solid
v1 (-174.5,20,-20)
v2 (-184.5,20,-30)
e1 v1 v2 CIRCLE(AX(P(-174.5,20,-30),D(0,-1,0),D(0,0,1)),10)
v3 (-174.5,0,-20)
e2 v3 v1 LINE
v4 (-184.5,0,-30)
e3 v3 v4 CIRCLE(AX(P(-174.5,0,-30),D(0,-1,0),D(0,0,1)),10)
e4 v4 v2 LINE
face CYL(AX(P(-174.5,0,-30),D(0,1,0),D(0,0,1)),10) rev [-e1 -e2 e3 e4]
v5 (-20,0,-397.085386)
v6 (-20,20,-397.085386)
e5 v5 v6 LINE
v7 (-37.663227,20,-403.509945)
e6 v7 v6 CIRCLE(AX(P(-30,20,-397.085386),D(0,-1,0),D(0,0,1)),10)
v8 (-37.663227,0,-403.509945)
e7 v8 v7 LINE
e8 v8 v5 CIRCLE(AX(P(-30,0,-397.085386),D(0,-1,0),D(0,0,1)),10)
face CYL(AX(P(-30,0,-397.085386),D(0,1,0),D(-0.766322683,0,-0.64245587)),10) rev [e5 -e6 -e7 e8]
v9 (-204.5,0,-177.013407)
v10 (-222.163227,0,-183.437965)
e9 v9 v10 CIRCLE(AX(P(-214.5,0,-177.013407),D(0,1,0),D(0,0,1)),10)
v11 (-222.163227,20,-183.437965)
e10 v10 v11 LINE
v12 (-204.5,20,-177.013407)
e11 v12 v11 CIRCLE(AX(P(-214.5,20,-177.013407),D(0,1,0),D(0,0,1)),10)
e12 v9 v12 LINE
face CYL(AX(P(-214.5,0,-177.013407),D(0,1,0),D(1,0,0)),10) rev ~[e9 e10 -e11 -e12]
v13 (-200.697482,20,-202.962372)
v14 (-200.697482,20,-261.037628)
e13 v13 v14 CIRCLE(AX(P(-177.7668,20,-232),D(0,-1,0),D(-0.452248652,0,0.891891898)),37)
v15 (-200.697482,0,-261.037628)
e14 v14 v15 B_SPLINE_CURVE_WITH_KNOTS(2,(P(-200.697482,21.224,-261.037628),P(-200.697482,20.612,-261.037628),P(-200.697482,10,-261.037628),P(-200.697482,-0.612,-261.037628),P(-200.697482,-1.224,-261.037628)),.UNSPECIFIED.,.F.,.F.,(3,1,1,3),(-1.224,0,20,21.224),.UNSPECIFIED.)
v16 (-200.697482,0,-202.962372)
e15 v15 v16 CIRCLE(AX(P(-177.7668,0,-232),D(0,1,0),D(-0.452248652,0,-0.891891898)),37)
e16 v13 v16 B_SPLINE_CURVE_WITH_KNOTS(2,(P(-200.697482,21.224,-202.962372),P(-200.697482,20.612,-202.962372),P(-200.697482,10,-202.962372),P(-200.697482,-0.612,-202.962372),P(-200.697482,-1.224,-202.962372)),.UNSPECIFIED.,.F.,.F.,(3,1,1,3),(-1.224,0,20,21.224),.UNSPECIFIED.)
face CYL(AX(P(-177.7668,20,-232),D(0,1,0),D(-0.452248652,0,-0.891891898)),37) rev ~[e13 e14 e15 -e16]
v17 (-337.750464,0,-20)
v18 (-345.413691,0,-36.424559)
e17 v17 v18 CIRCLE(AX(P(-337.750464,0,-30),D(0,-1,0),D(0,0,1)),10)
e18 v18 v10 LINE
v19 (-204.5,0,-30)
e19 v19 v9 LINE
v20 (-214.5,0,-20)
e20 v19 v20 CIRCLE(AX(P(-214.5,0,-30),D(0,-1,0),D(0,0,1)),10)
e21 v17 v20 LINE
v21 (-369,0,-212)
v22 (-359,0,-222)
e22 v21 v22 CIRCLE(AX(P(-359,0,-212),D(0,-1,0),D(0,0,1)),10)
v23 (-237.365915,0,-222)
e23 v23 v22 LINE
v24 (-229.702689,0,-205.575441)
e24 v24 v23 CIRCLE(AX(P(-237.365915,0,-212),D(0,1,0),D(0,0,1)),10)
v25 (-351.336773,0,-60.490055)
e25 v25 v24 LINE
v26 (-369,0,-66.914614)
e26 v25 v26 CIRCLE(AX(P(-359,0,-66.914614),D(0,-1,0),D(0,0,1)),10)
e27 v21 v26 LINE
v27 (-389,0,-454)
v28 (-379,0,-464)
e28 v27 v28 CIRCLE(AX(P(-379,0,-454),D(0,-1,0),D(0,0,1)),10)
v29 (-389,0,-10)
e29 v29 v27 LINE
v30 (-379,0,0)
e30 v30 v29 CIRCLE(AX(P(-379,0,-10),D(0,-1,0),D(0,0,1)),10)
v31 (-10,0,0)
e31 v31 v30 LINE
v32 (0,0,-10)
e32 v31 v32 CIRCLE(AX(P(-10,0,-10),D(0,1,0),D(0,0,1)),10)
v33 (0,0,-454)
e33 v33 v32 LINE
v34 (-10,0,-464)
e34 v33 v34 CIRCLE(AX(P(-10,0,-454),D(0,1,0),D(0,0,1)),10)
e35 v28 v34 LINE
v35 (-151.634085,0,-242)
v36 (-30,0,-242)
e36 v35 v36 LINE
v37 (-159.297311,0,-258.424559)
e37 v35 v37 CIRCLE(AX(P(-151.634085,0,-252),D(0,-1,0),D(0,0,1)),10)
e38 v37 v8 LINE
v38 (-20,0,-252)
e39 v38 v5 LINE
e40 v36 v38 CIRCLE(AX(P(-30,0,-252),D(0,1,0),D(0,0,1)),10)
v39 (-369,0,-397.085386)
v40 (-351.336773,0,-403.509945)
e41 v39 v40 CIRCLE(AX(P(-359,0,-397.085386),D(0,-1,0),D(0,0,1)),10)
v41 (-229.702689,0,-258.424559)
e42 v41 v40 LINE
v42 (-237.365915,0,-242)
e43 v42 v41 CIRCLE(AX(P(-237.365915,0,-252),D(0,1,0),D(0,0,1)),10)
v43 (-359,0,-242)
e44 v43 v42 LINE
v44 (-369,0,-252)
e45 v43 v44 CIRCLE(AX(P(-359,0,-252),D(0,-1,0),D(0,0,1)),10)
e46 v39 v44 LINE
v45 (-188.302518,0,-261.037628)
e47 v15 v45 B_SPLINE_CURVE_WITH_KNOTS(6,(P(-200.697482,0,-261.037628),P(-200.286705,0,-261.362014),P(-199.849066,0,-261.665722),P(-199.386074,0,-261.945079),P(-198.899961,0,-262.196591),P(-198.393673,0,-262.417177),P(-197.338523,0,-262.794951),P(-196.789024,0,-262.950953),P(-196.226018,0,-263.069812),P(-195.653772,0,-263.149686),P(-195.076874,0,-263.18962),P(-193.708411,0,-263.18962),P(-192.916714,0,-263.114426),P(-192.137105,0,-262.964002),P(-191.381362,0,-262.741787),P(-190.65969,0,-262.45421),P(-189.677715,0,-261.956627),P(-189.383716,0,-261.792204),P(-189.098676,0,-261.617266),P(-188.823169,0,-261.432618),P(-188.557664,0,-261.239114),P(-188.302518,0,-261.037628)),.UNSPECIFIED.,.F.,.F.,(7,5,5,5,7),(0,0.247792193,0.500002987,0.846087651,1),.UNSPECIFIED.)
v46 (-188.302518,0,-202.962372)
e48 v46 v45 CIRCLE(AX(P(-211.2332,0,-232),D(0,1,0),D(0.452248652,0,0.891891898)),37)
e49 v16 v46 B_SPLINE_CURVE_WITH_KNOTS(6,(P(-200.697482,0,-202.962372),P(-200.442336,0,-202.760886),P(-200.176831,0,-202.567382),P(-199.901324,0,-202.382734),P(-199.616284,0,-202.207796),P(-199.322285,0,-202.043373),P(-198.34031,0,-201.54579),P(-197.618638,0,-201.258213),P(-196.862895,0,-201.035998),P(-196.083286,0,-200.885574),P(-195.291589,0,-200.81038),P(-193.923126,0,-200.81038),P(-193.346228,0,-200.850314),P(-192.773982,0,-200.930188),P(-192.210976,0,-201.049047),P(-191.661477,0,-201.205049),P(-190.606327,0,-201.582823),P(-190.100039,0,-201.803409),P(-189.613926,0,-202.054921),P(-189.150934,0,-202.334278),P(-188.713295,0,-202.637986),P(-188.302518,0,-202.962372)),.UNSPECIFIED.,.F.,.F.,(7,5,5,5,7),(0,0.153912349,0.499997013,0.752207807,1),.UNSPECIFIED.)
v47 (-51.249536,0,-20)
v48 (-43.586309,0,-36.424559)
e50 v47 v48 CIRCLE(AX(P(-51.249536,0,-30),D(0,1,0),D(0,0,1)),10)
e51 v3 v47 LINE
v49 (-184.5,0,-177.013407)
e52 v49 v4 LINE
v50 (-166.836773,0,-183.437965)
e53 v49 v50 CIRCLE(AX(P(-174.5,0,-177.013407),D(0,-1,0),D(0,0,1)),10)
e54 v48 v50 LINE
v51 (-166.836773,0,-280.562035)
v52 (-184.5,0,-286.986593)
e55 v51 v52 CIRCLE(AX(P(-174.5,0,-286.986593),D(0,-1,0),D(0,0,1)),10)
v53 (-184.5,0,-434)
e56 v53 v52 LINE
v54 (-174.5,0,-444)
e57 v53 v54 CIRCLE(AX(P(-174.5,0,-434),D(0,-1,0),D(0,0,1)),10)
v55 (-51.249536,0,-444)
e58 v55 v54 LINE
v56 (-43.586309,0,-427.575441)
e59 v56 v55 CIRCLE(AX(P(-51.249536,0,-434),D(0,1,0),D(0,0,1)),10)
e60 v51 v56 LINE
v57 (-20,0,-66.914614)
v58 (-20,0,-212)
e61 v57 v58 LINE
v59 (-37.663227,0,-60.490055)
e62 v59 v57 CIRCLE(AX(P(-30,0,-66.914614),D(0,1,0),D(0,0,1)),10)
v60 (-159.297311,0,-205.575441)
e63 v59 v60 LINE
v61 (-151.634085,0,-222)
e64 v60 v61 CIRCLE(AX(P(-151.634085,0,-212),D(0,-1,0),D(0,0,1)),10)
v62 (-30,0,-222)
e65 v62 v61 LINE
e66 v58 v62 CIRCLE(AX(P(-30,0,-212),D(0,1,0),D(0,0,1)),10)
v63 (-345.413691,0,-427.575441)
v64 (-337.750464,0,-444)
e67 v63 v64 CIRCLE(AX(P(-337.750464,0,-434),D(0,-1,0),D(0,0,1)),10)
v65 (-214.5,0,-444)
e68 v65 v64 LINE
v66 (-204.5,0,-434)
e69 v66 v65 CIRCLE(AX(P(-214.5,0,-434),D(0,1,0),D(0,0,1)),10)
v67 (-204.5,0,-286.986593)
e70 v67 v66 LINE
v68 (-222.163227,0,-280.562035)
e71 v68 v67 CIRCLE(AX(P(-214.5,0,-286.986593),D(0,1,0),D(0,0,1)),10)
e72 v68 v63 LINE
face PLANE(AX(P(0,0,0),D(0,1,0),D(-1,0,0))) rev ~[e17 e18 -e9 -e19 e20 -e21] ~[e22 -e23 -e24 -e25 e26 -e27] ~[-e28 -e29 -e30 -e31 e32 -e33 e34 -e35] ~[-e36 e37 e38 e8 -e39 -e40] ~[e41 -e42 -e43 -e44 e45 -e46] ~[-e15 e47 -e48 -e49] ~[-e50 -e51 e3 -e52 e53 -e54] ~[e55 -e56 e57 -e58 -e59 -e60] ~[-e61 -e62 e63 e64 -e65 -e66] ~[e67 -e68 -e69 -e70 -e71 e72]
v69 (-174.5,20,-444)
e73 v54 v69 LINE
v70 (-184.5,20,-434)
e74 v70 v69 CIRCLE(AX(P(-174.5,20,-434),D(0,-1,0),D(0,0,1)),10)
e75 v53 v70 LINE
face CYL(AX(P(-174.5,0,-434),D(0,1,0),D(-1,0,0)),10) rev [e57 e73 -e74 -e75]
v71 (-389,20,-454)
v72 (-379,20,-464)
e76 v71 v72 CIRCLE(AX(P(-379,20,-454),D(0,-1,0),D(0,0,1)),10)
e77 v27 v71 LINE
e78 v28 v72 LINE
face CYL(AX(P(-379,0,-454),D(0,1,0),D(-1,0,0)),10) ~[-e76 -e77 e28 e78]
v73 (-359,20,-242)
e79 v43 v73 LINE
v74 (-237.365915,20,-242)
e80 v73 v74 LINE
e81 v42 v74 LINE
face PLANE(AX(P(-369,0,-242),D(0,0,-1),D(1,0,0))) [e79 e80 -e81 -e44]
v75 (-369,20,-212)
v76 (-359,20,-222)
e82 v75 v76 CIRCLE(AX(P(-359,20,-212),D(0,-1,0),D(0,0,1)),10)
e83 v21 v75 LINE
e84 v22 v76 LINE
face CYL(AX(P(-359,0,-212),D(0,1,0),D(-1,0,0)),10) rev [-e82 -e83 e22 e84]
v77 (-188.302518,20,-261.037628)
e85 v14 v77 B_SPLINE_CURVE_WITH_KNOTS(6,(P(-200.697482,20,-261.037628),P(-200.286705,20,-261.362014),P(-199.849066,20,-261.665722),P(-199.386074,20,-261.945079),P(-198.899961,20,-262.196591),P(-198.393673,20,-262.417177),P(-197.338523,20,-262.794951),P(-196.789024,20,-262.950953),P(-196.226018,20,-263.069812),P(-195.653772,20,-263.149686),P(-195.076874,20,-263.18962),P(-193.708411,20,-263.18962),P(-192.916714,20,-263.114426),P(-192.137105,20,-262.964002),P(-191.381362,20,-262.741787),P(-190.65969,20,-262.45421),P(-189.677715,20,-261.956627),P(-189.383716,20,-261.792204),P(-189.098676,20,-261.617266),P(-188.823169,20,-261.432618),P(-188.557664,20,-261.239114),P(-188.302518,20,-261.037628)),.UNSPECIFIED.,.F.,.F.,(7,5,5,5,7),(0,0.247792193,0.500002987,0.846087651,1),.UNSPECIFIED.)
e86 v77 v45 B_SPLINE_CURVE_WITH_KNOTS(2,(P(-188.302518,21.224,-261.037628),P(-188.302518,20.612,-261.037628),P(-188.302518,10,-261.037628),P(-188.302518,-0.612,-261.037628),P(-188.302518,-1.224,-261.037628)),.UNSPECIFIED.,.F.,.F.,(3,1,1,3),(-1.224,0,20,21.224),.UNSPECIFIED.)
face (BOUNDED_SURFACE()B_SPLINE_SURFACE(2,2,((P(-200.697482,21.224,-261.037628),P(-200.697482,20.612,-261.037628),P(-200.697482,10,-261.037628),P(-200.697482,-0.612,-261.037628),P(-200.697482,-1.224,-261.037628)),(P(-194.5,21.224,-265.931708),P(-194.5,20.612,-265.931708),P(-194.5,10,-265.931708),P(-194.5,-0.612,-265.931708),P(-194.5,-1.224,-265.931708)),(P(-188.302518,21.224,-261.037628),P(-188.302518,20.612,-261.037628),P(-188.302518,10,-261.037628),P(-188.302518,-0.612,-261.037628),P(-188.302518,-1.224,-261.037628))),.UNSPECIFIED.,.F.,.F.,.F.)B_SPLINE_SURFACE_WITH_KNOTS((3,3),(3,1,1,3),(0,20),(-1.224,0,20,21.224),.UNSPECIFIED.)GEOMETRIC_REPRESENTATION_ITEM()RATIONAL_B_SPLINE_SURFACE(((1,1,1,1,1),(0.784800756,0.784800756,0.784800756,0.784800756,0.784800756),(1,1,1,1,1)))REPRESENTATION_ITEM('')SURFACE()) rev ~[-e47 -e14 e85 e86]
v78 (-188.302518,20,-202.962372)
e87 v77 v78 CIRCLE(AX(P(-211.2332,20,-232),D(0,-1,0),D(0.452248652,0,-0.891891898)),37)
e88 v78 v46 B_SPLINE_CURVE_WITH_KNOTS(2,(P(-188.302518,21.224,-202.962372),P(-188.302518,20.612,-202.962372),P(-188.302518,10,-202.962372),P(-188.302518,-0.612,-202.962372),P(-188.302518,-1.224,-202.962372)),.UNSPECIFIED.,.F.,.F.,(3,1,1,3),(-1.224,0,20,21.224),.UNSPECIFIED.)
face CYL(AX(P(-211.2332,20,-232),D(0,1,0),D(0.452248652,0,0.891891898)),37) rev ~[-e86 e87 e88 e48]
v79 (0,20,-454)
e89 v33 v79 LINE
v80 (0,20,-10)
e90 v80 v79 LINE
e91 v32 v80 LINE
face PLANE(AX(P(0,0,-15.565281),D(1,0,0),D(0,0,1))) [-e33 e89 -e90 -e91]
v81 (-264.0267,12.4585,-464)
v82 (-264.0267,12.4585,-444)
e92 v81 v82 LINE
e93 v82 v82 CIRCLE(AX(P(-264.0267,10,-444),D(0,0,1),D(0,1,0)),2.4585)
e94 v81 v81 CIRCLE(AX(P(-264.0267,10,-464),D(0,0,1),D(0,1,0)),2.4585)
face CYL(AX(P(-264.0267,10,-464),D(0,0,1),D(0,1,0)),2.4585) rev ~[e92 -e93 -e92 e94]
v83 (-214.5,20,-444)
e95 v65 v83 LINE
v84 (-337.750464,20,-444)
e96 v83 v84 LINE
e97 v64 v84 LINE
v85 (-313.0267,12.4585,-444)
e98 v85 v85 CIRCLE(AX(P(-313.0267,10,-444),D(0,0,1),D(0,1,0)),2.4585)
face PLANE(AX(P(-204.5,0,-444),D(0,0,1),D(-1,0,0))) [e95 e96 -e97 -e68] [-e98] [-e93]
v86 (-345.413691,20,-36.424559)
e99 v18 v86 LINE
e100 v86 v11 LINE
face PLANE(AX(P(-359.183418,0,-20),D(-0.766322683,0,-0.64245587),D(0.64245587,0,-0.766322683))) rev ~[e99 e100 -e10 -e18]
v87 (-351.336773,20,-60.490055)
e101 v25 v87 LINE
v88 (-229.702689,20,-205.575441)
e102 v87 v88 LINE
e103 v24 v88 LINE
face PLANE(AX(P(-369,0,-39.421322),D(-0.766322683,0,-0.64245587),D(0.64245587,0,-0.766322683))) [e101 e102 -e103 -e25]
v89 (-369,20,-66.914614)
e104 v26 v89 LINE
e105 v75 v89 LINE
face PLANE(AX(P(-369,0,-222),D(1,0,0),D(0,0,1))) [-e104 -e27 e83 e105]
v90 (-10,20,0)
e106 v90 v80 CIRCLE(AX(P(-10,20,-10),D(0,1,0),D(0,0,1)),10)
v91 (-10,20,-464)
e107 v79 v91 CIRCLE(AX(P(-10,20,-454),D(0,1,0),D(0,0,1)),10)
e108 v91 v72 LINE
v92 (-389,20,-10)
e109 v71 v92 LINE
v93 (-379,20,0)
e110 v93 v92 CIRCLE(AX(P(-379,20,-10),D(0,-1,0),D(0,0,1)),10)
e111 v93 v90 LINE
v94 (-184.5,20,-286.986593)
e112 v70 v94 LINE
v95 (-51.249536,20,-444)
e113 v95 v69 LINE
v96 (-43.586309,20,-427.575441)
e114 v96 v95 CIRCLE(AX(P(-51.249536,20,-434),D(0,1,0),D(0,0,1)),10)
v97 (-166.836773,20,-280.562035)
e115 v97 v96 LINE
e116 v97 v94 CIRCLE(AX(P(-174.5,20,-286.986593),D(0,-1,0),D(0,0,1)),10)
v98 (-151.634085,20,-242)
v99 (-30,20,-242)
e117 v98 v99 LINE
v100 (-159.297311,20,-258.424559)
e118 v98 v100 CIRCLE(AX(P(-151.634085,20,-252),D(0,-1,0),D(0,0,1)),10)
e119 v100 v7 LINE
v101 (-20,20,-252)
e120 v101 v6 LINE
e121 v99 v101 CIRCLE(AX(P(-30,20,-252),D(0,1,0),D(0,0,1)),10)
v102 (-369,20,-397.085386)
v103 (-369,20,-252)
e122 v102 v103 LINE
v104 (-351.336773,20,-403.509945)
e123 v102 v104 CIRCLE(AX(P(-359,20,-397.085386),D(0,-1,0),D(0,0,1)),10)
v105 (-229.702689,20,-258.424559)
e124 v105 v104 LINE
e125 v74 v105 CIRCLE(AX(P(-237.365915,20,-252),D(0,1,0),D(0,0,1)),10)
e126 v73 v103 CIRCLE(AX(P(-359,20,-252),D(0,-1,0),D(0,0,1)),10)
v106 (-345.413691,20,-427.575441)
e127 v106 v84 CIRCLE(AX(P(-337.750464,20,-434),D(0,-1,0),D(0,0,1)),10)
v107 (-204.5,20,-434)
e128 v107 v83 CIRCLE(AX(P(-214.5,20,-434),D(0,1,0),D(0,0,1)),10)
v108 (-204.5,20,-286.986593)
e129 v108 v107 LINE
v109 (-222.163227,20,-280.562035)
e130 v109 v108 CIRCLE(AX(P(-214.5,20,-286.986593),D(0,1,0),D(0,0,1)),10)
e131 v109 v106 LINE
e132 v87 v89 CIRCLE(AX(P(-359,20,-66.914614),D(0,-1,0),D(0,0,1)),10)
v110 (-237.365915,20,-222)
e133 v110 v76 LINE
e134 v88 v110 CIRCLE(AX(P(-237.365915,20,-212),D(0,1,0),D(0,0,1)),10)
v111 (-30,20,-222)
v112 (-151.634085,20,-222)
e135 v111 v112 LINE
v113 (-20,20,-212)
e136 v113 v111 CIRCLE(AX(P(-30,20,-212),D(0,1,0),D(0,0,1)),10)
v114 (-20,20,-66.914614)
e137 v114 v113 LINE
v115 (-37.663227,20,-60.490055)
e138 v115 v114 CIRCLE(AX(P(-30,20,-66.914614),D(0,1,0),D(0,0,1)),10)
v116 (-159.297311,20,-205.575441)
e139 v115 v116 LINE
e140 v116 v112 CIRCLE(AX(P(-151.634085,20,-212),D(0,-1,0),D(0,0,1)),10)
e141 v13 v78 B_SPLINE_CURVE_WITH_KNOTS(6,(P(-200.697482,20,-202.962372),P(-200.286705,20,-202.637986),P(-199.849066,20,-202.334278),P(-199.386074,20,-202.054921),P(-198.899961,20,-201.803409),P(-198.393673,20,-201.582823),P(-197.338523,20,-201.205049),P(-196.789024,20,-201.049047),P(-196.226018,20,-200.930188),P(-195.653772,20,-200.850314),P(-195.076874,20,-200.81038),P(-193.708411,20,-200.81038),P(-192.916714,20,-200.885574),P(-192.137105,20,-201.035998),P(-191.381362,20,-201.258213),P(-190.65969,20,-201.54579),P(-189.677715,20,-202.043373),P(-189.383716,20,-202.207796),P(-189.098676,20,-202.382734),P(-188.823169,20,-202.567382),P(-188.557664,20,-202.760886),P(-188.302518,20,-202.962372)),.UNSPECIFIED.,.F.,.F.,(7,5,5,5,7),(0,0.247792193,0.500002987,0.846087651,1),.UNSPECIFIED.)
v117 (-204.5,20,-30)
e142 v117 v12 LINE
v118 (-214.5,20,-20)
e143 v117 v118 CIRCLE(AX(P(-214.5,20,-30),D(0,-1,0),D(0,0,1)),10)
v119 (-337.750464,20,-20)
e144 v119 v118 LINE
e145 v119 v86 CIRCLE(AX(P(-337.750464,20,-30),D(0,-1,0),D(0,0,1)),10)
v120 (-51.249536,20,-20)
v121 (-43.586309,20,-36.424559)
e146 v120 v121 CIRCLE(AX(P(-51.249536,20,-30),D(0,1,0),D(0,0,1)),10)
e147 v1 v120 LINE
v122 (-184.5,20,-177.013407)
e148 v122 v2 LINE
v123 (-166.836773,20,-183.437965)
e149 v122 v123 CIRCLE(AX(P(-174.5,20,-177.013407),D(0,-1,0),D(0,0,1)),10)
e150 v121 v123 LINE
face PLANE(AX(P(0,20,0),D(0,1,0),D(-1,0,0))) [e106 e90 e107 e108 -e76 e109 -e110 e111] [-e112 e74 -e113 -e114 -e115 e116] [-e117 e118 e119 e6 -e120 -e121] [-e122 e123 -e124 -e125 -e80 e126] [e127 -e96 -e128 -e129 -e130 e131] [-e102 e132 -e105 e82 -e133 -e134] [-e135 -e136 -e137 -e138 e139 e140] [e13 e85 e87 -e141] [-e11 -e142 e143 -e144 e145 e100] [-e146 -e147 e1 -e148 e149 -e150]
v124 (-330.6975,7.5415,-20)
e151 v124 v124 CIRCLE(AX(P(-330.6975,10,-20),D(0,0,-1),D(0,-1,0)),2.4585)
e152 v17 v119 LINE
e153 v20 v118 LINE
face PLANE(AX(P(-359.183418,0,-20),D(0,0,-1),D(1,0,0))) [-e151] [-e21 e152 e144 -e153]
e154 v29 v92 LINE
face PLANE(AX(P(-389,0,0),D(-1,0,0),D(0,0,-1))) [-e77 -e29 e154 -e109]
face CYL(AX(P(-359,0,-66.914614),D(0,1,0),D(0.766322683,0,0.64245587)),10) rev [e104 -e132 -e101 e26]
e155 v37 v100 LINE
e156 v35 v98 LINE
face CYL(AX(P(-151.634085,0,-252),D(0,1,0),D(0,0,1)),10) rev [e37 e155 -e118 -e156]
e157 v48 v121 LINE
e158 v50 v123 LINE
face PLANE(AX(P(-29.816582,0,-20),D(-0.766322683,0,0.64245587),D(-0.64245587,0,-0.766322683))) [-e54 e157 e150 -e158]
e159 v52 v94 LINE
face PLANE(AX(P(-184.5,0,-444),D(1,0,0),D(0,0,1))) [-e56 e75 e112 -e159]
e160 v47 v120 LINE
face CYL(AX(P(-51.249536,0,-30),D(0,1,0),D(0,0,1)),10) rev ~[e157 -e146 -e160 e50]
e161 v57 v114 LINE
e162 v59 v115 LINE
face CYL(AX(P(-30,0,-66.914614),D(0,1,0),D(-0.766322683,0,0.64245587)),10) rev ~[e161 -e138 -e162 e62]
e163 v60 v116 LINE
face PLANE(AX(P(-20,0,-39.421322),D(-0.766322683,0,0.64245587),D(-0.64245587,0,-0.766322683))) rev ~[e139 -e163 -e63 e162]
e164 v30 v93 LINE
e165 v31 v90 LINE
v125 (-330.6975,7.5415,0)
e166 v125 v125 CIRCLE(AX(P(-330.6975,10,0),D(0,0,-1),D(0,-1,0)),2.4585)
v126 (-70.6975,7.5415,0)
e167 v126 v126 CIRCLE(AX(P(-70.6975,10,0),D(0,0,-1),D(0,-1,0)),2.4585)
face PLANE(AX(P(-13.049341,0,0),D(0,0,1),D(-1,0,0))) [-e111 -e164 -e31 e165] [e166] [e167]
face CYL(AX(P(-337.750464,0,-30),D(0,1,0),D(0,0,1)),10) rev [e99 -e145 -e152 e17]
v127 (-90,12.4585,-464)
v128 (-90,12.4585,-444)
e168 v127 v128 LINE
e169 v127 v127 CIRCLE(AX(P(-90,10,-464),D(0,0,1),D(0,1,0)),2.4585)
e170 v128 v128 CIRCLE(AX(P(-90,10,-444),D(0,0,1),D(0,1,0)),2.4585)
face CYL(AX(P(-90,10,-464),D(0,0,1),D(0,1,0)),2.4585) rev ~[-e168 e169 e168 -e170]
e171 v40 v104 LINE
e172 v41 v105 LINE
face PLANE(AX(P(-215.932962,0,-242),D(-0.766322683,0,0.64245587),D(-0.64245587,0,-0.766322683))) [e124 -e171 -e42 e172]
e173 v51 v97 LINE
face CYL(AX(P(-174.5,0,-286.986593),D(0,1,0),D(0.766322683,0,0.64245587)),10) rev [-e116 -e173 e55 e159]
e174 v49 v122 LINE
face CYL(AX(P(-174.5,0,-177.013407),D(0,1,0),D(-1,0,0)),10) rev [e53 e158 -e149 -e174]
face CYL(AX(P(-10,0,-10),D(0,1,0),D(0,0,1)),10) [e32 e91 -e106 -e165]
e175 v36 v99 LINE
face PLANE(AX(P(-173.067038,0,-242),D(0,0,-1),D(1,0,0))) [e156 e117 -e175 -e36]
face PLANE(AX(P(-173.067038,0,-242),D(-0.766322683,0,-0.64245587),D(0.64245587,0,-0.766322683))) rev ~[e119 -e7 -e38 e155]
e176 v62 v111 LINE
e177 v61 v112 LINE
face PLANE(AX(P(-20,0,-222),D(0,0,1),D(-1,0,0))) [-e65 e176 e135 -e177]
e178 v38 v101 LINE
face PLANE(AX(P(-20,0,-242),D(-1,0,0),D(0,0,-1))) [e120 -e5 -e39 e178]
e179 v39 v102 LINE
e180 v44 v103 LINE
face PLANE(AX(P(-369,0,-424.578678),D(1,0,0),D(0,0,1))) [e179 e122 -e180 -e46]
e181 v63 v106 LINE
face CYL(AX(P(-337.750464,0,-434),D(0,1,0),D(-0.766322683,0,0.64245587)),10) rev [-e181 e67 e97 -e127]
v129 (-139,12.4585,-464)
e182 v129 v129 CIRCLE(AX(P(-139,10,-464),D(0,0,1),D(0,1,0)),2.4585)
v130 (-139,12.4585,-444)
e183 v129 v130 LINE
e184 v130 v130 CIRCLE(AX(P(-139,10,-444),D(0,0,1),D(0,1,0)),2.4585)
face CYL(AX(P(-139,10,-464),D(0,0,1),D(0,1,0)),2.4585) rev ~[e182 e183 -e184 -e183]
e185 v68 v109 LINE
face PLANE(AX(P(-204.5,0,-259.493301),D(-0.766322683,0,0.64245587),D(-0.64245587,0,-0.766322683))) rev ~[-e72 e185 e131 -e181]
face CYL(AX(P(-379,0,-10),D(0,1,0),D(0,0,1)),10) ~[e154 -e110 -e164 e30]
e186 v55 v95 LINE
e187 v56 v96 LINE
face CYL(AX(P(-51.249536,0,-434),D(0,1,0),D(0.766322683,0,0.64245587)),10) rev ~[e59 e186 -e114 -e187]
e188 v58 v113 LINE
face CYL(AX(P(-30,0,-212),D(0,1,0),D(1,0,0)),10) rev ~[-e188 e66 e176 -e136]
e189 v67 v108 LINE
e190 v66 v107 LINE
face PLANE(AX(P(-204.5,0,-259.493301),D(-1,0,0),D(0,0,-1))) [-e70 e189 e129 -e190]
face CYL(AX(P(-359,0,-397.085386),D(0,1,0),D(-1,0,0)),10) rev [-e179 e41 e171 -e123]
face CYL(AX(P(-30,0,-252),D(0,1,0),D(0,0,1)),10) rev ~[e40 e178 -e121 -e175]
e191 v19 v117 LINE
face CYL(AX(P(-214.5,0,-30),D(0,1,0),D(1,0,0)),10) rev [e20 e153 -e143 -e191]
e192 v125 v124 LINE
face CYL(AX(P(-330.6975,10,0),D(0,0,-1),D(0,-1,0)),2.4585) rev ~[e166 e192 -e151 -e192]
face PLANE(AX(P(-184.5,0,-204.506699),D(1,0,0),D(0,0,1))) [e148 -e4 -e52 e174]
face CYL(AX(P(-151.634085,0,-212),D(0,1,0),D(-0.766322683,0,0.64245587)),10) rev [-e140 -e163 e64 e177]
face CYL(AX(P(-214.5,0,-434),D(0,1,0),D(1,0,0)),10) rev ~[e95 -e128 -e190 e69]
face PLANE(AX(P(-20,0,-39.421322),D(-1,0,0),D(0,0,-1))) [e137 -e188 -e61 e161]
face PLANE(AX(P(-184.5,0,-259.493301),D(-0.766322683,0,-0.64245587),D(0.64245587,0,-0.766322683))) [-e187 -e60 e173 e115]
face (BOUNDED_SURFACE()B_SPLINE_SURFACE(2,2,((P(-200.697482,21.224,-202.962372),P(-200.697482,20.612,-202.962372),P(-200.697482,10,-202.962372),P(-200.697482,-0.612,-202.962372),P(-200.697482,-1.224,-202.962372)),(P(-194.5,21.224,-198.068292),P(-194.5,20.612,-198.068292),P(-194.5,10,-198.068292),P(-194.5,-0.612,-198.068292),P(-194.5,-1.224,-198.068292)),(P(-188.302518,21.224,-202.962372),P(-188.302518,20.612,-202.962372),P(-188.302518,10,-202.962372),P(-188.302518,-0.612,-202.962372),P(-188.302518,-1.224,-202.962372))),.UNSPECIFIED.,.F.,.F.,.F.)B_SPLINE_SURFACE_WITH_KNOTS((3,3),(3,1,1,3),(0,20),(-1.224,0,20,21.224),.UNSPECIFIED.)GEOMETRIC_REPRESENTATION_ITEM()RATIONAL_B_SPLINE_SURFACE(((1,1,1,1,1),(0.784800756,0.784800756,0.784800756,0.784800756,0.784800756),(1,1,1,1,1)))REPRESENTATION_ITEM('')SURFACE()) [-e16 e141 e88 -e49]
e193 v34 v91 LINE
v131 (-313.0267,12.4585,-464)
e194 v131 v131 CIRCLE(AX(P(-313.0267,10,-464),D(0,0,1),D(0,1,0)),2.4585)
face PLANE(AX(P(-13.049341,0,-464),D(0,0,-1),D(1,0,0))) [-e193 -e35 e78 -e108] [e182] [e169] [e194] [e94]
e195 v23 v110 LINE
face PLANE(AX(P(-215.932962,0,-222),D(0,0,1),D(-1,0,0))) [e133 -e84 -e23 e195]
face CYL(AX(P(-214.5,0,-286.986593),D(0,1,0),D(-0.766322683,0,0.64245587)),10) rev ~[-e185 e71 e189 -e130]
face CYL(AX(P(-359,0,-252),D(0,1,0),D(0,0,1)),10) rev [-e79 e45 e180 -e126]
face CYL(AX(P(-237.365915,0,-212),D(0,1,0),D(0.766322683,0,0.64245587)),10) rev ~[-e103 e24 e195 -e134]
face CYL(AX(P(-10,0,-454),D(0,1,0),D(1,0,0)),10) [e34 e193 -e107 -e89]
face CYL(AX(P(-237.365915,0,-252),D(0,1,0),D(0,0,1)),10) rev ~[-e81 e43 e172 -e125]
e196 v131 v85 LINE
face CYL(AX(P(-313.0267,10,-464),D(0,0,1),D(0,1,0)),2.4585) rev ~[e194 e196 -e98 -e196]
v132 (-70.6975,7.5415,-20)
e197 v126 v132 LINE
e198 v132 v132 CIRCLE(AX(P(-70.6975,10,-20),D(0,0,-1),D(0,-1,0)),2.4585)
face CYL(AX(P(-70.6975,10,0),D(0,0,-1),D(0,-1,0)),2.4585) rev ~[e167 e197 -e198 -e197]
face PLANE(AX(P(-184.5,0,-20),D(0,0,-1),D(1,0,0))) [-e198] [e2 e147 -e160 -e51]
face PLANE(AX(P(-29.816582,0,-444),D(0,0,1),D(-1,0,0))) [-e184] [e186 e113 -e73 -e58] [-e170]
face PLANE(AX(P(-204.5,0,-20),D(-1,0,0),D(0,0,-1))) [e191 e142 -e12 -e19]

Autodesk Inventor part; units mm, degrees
ref_plane "YZ Plane" through (0, 0, 0) normal (1, 0, 0) x (0, 1, 0)
ref_plane "XZ Plane" through (0, 0, 0) normal (0, 1, 0) x (-1, 0, 0)
ref_plane "XY Plane" through (0, 0, 0) normal (0, 0, 1) x (1, 0, 0)
sketch "Sketch1" plane through (0, 0, 0) normal (0, 1, 0) x (-1, 0, 0)
  line L0 (0, 0) -> (389, 0)
  line L1 (389, 0) -> (389, -464)
  line L2 (389, -464) -> (0, -464)
  line L3 (0, -464) -> (0, 0)
  line L4 (369, -444) -> (369, -20)
  line L5 (369, -20) -> (20, -20)
  line L6 (20, -20) -> (20, -444)
  line L7 (20, -444) -> (369, -444)
  line L8 (184.5, 0) -> (204.5, 0)
  line L9 (204.5, 0) -> (204.5, -464)
  line L10 (204.5, -464) -> (184.5, -464)
  line L11 (184.5, -464) -> (184.5, 0)
  line L12 (0, -222) -> (389, -222)
  line L13 (389, -222) -> (389, -242)
  line L14 (389, -242) -> (0, -242)
  line L15 (0, -242) -> (0, -222)
  line L16 (396.6632, -6.4246) -> (7.6632, -470.4246)
  line L17 (381.3368, 6.4246) -> (-7.6632, -457.5754)
  line L18 (7.6632, 6.4246) -> (396.6632, -457.5754)
  line L19 (-7.6632, -6.4246) -> (381.3368, -470.4246)
  point P0 (369, -222)
  point P1 (215.933, -222)
  point P2 (369, -39.4213)
  point P3 (369, -242)
  point P4 (369, -424.5787)
  point P5 (215.933, -242)
  point P6 (184.5, -20)
  point P7 (184.5, -204.5067)
  point P8 (29.8166, -20)
  point P9 (20, -424.5787)
  point P10 (20, -242)
  point P11 (173.067, -242)
  point P12 (204.5, -259.4933)
  point P13 (359.1834, -444)
  point P14 (204.5, -444)
  point P15 (20, -39.4213)
  point P16 (173.067, -222)
  point P17 (20, -222)
  point P18 (359.1834, -20)
  point P19 (204.5, -204.5067)
  point P20 (204.5, -20)
  point P21 (184.5, -444)
  point P22 (29.8166, -444)
  point P23 (184.5, -259.4933)
  dimension "d0" = 389
  dimension "d1" = 464
  dimension "d2" = 20
  dimension "d3" = 20
  dimension "d4" = 20
extrude "Extrusion1" add sketch "Sketch1" along normal blind 20 contours L11 L5 L18 L0 | L0 L9 L5 L11 | L0 L17 L5 L9 | L18 L5 L6 L19 L3 L0 | L5 L9 L17 L18 L11 | L0 L1 L16 L4 L5 L17 | L18 L11 L12 L19 L6 L5 | L18 L17 L12 L11 | L5 L4 L16 L12 L9 L17 | L9 L12 L18 L17 | L19 L6 L12 L3 | L12 L17 L11 | L11 L17 L19 L12 | L18 L12 L17 | L1 L12 L4 L16 | L12 L16 L18 L9 | L9 L18 L12 | L12 L6 L14 L3 | L17 L12 L18 L9 L16 L14 L19 L11 | L11 L19 L17 | L19 L17 L14 L6 L12 | L1 L14 L4 L12 | L18 L16 L9 | L12 L4 L14 L18 L16 | L14 L6 L17 L3 | L19 L14 L11 | L11 L14 L17 L19 | L1 L18 L4 L14 | L16 L18 L14 L9 | L9 L14 L16 | L17 L6 L7 L16 L2 L3 | L14 L19 L16 L11 | L11 L16 L7 L6 L17 L14 | L14 L16 L19 | L1 L2 L19 L7 L4 L18 | L14 L18 L4 L7 L19 L9 | L9 L19 L16 L14 | L16 L19 L9 L7 L11 | L16 L7 L11 L2 | L7 L9 L2 L11 | L2 L9 L7 L19
fillet "Fillet1" radius 10 28 edges at (-389, 10, 0) (0, 10, 0) (0, 10, -464) (-389, 10, -464) (-369, 10, -424.5787) (-359.1834, 10, -444) (-369, 10, -242) (-369, 10, -222) (-204.5, 10, -444) (-204.5, 10, -259.4933) (-215.933, 10, -242) (-215.933, 10, -222) (-204.5, 10, -204.5067) (-184.5, 10, -204.5067) (-173.067, 10, -222) (-173.067, 10, -242) (-184.5, 10, -259.4933) (-369, 10, -39.4213) (-359.1834, 10, -20) (-204.5, 10, -20) (-184.5, 10, -20) (-29.8166, 10, -20) (-20, 10, -39.4213) (-20, 10, -222) (-20, 10, -242) (-20, 10, -424.5787) (-29.8166, 10, -444) (-184.5, 10, -444)
sketch "Sketch2" plane through (0, 20, 0) normal (0, 1, 0) x (1, 0, 0)
  line L0 (-389, 454) -> (-389, 10) projected
  line L1 (-389, 232) -> (0, 232)
  line L2 (0, 10) -> (0, 454) projected
  line L3 (-379, 0) -> (-10, 0) projected
  line L4 (-194.5, 0) -> (-194.5, 464)
  line L5 (-10, 464) -> (-379, 464) projected
  arc A0 (-194.5, 265) -> (-194.5, 199) centre (-177.7668, 232) ccw
  arc A1 (-194.5, 199) -> (-194.5, 265) centre (-211.2332, 232) ccw
  point P0 (0, 0)
  dimension "d12" = 66
  dimension "d13" = 37
  dimension "d14" = 37
extrude "Extrusion2" cut sketch "Sketch2" against normal through all
fillet "Fillet2" radius 10 2 edges at (-194.5, 10, -265) (-194.5, 10, -199)
sketch "Sketch6" plane through (-10, 0, -464) normal (0, 0, -1) x (-1, 0, 0)
  line L0 (369, 20) -> (369, 0) projected
  line L1 (0, 20) -> (369, 20) projected
  line L2 (0, 0) -> (0, 20) projected
  line L3 (0, 0) -> (369, 0) projected
  line L4 (0, 10) -> (80, 10)
  line L5 (0, 10) -> (80, 10) construction
  line L6 (80, 10) -> (129, 10)
  line L7 (369, 10) -> (303.0267, 10)
  line L8 (369, 10) -> (434.9733, 10) construction
  line L9 (303.0267, 10) -> (254.0267, 10)
  dimension "d48" = 80
  dimension "d49" = 0
  dimension "d50" = 49
  dimension "d51" = 180
  dimension "d52" = 180
  dimension "d53" = 49
  dimension "d54" = 180
hole "Hole2" at (-90, 10, -464) at (-139, 10, -464) at (-264.0267, 10, -464) at (-313.0267, 10, -464) direction (0, 0, 1) diameter 4.917 depth 20 thread size "M6x1" class "6H" standard "ISO Metric profile"
sketch "Sketch8" plane through (-379, 0, 0) normal (0, 0, 1) x (1, 0, 0)
  line L0 (379, 0) -> (379, 20) projected
  line L1 (369, 20) -> (369, 0) projected
  line L2 (0, 20) -> (369, 20) projected
  line L3 (0, 0) -> (0, 20) projected
  line L4 (0, 0) -> (369, 0) projected
  line L5 (0, 10) -> (369, 10)
  line L6 (178.3025, 0) -> (178.3025, 20) projected
  line L7 (178.3025, 10) -> (308.3025, 10)
  line L8 (308.3025, 10) -> (48.3025, 10)
  dimension "d46" = 130
  dimension "d47" = 260
hole "Hole3" at (-330.6975, 10, 0) at (-70.6975, 10, 0) direction (0, 0, -1) diameter 4.917 depth 20 thread size "M6x1" class "6H" standard "ISO Metric profile"
properties part number "Halterung_Aufbau"
